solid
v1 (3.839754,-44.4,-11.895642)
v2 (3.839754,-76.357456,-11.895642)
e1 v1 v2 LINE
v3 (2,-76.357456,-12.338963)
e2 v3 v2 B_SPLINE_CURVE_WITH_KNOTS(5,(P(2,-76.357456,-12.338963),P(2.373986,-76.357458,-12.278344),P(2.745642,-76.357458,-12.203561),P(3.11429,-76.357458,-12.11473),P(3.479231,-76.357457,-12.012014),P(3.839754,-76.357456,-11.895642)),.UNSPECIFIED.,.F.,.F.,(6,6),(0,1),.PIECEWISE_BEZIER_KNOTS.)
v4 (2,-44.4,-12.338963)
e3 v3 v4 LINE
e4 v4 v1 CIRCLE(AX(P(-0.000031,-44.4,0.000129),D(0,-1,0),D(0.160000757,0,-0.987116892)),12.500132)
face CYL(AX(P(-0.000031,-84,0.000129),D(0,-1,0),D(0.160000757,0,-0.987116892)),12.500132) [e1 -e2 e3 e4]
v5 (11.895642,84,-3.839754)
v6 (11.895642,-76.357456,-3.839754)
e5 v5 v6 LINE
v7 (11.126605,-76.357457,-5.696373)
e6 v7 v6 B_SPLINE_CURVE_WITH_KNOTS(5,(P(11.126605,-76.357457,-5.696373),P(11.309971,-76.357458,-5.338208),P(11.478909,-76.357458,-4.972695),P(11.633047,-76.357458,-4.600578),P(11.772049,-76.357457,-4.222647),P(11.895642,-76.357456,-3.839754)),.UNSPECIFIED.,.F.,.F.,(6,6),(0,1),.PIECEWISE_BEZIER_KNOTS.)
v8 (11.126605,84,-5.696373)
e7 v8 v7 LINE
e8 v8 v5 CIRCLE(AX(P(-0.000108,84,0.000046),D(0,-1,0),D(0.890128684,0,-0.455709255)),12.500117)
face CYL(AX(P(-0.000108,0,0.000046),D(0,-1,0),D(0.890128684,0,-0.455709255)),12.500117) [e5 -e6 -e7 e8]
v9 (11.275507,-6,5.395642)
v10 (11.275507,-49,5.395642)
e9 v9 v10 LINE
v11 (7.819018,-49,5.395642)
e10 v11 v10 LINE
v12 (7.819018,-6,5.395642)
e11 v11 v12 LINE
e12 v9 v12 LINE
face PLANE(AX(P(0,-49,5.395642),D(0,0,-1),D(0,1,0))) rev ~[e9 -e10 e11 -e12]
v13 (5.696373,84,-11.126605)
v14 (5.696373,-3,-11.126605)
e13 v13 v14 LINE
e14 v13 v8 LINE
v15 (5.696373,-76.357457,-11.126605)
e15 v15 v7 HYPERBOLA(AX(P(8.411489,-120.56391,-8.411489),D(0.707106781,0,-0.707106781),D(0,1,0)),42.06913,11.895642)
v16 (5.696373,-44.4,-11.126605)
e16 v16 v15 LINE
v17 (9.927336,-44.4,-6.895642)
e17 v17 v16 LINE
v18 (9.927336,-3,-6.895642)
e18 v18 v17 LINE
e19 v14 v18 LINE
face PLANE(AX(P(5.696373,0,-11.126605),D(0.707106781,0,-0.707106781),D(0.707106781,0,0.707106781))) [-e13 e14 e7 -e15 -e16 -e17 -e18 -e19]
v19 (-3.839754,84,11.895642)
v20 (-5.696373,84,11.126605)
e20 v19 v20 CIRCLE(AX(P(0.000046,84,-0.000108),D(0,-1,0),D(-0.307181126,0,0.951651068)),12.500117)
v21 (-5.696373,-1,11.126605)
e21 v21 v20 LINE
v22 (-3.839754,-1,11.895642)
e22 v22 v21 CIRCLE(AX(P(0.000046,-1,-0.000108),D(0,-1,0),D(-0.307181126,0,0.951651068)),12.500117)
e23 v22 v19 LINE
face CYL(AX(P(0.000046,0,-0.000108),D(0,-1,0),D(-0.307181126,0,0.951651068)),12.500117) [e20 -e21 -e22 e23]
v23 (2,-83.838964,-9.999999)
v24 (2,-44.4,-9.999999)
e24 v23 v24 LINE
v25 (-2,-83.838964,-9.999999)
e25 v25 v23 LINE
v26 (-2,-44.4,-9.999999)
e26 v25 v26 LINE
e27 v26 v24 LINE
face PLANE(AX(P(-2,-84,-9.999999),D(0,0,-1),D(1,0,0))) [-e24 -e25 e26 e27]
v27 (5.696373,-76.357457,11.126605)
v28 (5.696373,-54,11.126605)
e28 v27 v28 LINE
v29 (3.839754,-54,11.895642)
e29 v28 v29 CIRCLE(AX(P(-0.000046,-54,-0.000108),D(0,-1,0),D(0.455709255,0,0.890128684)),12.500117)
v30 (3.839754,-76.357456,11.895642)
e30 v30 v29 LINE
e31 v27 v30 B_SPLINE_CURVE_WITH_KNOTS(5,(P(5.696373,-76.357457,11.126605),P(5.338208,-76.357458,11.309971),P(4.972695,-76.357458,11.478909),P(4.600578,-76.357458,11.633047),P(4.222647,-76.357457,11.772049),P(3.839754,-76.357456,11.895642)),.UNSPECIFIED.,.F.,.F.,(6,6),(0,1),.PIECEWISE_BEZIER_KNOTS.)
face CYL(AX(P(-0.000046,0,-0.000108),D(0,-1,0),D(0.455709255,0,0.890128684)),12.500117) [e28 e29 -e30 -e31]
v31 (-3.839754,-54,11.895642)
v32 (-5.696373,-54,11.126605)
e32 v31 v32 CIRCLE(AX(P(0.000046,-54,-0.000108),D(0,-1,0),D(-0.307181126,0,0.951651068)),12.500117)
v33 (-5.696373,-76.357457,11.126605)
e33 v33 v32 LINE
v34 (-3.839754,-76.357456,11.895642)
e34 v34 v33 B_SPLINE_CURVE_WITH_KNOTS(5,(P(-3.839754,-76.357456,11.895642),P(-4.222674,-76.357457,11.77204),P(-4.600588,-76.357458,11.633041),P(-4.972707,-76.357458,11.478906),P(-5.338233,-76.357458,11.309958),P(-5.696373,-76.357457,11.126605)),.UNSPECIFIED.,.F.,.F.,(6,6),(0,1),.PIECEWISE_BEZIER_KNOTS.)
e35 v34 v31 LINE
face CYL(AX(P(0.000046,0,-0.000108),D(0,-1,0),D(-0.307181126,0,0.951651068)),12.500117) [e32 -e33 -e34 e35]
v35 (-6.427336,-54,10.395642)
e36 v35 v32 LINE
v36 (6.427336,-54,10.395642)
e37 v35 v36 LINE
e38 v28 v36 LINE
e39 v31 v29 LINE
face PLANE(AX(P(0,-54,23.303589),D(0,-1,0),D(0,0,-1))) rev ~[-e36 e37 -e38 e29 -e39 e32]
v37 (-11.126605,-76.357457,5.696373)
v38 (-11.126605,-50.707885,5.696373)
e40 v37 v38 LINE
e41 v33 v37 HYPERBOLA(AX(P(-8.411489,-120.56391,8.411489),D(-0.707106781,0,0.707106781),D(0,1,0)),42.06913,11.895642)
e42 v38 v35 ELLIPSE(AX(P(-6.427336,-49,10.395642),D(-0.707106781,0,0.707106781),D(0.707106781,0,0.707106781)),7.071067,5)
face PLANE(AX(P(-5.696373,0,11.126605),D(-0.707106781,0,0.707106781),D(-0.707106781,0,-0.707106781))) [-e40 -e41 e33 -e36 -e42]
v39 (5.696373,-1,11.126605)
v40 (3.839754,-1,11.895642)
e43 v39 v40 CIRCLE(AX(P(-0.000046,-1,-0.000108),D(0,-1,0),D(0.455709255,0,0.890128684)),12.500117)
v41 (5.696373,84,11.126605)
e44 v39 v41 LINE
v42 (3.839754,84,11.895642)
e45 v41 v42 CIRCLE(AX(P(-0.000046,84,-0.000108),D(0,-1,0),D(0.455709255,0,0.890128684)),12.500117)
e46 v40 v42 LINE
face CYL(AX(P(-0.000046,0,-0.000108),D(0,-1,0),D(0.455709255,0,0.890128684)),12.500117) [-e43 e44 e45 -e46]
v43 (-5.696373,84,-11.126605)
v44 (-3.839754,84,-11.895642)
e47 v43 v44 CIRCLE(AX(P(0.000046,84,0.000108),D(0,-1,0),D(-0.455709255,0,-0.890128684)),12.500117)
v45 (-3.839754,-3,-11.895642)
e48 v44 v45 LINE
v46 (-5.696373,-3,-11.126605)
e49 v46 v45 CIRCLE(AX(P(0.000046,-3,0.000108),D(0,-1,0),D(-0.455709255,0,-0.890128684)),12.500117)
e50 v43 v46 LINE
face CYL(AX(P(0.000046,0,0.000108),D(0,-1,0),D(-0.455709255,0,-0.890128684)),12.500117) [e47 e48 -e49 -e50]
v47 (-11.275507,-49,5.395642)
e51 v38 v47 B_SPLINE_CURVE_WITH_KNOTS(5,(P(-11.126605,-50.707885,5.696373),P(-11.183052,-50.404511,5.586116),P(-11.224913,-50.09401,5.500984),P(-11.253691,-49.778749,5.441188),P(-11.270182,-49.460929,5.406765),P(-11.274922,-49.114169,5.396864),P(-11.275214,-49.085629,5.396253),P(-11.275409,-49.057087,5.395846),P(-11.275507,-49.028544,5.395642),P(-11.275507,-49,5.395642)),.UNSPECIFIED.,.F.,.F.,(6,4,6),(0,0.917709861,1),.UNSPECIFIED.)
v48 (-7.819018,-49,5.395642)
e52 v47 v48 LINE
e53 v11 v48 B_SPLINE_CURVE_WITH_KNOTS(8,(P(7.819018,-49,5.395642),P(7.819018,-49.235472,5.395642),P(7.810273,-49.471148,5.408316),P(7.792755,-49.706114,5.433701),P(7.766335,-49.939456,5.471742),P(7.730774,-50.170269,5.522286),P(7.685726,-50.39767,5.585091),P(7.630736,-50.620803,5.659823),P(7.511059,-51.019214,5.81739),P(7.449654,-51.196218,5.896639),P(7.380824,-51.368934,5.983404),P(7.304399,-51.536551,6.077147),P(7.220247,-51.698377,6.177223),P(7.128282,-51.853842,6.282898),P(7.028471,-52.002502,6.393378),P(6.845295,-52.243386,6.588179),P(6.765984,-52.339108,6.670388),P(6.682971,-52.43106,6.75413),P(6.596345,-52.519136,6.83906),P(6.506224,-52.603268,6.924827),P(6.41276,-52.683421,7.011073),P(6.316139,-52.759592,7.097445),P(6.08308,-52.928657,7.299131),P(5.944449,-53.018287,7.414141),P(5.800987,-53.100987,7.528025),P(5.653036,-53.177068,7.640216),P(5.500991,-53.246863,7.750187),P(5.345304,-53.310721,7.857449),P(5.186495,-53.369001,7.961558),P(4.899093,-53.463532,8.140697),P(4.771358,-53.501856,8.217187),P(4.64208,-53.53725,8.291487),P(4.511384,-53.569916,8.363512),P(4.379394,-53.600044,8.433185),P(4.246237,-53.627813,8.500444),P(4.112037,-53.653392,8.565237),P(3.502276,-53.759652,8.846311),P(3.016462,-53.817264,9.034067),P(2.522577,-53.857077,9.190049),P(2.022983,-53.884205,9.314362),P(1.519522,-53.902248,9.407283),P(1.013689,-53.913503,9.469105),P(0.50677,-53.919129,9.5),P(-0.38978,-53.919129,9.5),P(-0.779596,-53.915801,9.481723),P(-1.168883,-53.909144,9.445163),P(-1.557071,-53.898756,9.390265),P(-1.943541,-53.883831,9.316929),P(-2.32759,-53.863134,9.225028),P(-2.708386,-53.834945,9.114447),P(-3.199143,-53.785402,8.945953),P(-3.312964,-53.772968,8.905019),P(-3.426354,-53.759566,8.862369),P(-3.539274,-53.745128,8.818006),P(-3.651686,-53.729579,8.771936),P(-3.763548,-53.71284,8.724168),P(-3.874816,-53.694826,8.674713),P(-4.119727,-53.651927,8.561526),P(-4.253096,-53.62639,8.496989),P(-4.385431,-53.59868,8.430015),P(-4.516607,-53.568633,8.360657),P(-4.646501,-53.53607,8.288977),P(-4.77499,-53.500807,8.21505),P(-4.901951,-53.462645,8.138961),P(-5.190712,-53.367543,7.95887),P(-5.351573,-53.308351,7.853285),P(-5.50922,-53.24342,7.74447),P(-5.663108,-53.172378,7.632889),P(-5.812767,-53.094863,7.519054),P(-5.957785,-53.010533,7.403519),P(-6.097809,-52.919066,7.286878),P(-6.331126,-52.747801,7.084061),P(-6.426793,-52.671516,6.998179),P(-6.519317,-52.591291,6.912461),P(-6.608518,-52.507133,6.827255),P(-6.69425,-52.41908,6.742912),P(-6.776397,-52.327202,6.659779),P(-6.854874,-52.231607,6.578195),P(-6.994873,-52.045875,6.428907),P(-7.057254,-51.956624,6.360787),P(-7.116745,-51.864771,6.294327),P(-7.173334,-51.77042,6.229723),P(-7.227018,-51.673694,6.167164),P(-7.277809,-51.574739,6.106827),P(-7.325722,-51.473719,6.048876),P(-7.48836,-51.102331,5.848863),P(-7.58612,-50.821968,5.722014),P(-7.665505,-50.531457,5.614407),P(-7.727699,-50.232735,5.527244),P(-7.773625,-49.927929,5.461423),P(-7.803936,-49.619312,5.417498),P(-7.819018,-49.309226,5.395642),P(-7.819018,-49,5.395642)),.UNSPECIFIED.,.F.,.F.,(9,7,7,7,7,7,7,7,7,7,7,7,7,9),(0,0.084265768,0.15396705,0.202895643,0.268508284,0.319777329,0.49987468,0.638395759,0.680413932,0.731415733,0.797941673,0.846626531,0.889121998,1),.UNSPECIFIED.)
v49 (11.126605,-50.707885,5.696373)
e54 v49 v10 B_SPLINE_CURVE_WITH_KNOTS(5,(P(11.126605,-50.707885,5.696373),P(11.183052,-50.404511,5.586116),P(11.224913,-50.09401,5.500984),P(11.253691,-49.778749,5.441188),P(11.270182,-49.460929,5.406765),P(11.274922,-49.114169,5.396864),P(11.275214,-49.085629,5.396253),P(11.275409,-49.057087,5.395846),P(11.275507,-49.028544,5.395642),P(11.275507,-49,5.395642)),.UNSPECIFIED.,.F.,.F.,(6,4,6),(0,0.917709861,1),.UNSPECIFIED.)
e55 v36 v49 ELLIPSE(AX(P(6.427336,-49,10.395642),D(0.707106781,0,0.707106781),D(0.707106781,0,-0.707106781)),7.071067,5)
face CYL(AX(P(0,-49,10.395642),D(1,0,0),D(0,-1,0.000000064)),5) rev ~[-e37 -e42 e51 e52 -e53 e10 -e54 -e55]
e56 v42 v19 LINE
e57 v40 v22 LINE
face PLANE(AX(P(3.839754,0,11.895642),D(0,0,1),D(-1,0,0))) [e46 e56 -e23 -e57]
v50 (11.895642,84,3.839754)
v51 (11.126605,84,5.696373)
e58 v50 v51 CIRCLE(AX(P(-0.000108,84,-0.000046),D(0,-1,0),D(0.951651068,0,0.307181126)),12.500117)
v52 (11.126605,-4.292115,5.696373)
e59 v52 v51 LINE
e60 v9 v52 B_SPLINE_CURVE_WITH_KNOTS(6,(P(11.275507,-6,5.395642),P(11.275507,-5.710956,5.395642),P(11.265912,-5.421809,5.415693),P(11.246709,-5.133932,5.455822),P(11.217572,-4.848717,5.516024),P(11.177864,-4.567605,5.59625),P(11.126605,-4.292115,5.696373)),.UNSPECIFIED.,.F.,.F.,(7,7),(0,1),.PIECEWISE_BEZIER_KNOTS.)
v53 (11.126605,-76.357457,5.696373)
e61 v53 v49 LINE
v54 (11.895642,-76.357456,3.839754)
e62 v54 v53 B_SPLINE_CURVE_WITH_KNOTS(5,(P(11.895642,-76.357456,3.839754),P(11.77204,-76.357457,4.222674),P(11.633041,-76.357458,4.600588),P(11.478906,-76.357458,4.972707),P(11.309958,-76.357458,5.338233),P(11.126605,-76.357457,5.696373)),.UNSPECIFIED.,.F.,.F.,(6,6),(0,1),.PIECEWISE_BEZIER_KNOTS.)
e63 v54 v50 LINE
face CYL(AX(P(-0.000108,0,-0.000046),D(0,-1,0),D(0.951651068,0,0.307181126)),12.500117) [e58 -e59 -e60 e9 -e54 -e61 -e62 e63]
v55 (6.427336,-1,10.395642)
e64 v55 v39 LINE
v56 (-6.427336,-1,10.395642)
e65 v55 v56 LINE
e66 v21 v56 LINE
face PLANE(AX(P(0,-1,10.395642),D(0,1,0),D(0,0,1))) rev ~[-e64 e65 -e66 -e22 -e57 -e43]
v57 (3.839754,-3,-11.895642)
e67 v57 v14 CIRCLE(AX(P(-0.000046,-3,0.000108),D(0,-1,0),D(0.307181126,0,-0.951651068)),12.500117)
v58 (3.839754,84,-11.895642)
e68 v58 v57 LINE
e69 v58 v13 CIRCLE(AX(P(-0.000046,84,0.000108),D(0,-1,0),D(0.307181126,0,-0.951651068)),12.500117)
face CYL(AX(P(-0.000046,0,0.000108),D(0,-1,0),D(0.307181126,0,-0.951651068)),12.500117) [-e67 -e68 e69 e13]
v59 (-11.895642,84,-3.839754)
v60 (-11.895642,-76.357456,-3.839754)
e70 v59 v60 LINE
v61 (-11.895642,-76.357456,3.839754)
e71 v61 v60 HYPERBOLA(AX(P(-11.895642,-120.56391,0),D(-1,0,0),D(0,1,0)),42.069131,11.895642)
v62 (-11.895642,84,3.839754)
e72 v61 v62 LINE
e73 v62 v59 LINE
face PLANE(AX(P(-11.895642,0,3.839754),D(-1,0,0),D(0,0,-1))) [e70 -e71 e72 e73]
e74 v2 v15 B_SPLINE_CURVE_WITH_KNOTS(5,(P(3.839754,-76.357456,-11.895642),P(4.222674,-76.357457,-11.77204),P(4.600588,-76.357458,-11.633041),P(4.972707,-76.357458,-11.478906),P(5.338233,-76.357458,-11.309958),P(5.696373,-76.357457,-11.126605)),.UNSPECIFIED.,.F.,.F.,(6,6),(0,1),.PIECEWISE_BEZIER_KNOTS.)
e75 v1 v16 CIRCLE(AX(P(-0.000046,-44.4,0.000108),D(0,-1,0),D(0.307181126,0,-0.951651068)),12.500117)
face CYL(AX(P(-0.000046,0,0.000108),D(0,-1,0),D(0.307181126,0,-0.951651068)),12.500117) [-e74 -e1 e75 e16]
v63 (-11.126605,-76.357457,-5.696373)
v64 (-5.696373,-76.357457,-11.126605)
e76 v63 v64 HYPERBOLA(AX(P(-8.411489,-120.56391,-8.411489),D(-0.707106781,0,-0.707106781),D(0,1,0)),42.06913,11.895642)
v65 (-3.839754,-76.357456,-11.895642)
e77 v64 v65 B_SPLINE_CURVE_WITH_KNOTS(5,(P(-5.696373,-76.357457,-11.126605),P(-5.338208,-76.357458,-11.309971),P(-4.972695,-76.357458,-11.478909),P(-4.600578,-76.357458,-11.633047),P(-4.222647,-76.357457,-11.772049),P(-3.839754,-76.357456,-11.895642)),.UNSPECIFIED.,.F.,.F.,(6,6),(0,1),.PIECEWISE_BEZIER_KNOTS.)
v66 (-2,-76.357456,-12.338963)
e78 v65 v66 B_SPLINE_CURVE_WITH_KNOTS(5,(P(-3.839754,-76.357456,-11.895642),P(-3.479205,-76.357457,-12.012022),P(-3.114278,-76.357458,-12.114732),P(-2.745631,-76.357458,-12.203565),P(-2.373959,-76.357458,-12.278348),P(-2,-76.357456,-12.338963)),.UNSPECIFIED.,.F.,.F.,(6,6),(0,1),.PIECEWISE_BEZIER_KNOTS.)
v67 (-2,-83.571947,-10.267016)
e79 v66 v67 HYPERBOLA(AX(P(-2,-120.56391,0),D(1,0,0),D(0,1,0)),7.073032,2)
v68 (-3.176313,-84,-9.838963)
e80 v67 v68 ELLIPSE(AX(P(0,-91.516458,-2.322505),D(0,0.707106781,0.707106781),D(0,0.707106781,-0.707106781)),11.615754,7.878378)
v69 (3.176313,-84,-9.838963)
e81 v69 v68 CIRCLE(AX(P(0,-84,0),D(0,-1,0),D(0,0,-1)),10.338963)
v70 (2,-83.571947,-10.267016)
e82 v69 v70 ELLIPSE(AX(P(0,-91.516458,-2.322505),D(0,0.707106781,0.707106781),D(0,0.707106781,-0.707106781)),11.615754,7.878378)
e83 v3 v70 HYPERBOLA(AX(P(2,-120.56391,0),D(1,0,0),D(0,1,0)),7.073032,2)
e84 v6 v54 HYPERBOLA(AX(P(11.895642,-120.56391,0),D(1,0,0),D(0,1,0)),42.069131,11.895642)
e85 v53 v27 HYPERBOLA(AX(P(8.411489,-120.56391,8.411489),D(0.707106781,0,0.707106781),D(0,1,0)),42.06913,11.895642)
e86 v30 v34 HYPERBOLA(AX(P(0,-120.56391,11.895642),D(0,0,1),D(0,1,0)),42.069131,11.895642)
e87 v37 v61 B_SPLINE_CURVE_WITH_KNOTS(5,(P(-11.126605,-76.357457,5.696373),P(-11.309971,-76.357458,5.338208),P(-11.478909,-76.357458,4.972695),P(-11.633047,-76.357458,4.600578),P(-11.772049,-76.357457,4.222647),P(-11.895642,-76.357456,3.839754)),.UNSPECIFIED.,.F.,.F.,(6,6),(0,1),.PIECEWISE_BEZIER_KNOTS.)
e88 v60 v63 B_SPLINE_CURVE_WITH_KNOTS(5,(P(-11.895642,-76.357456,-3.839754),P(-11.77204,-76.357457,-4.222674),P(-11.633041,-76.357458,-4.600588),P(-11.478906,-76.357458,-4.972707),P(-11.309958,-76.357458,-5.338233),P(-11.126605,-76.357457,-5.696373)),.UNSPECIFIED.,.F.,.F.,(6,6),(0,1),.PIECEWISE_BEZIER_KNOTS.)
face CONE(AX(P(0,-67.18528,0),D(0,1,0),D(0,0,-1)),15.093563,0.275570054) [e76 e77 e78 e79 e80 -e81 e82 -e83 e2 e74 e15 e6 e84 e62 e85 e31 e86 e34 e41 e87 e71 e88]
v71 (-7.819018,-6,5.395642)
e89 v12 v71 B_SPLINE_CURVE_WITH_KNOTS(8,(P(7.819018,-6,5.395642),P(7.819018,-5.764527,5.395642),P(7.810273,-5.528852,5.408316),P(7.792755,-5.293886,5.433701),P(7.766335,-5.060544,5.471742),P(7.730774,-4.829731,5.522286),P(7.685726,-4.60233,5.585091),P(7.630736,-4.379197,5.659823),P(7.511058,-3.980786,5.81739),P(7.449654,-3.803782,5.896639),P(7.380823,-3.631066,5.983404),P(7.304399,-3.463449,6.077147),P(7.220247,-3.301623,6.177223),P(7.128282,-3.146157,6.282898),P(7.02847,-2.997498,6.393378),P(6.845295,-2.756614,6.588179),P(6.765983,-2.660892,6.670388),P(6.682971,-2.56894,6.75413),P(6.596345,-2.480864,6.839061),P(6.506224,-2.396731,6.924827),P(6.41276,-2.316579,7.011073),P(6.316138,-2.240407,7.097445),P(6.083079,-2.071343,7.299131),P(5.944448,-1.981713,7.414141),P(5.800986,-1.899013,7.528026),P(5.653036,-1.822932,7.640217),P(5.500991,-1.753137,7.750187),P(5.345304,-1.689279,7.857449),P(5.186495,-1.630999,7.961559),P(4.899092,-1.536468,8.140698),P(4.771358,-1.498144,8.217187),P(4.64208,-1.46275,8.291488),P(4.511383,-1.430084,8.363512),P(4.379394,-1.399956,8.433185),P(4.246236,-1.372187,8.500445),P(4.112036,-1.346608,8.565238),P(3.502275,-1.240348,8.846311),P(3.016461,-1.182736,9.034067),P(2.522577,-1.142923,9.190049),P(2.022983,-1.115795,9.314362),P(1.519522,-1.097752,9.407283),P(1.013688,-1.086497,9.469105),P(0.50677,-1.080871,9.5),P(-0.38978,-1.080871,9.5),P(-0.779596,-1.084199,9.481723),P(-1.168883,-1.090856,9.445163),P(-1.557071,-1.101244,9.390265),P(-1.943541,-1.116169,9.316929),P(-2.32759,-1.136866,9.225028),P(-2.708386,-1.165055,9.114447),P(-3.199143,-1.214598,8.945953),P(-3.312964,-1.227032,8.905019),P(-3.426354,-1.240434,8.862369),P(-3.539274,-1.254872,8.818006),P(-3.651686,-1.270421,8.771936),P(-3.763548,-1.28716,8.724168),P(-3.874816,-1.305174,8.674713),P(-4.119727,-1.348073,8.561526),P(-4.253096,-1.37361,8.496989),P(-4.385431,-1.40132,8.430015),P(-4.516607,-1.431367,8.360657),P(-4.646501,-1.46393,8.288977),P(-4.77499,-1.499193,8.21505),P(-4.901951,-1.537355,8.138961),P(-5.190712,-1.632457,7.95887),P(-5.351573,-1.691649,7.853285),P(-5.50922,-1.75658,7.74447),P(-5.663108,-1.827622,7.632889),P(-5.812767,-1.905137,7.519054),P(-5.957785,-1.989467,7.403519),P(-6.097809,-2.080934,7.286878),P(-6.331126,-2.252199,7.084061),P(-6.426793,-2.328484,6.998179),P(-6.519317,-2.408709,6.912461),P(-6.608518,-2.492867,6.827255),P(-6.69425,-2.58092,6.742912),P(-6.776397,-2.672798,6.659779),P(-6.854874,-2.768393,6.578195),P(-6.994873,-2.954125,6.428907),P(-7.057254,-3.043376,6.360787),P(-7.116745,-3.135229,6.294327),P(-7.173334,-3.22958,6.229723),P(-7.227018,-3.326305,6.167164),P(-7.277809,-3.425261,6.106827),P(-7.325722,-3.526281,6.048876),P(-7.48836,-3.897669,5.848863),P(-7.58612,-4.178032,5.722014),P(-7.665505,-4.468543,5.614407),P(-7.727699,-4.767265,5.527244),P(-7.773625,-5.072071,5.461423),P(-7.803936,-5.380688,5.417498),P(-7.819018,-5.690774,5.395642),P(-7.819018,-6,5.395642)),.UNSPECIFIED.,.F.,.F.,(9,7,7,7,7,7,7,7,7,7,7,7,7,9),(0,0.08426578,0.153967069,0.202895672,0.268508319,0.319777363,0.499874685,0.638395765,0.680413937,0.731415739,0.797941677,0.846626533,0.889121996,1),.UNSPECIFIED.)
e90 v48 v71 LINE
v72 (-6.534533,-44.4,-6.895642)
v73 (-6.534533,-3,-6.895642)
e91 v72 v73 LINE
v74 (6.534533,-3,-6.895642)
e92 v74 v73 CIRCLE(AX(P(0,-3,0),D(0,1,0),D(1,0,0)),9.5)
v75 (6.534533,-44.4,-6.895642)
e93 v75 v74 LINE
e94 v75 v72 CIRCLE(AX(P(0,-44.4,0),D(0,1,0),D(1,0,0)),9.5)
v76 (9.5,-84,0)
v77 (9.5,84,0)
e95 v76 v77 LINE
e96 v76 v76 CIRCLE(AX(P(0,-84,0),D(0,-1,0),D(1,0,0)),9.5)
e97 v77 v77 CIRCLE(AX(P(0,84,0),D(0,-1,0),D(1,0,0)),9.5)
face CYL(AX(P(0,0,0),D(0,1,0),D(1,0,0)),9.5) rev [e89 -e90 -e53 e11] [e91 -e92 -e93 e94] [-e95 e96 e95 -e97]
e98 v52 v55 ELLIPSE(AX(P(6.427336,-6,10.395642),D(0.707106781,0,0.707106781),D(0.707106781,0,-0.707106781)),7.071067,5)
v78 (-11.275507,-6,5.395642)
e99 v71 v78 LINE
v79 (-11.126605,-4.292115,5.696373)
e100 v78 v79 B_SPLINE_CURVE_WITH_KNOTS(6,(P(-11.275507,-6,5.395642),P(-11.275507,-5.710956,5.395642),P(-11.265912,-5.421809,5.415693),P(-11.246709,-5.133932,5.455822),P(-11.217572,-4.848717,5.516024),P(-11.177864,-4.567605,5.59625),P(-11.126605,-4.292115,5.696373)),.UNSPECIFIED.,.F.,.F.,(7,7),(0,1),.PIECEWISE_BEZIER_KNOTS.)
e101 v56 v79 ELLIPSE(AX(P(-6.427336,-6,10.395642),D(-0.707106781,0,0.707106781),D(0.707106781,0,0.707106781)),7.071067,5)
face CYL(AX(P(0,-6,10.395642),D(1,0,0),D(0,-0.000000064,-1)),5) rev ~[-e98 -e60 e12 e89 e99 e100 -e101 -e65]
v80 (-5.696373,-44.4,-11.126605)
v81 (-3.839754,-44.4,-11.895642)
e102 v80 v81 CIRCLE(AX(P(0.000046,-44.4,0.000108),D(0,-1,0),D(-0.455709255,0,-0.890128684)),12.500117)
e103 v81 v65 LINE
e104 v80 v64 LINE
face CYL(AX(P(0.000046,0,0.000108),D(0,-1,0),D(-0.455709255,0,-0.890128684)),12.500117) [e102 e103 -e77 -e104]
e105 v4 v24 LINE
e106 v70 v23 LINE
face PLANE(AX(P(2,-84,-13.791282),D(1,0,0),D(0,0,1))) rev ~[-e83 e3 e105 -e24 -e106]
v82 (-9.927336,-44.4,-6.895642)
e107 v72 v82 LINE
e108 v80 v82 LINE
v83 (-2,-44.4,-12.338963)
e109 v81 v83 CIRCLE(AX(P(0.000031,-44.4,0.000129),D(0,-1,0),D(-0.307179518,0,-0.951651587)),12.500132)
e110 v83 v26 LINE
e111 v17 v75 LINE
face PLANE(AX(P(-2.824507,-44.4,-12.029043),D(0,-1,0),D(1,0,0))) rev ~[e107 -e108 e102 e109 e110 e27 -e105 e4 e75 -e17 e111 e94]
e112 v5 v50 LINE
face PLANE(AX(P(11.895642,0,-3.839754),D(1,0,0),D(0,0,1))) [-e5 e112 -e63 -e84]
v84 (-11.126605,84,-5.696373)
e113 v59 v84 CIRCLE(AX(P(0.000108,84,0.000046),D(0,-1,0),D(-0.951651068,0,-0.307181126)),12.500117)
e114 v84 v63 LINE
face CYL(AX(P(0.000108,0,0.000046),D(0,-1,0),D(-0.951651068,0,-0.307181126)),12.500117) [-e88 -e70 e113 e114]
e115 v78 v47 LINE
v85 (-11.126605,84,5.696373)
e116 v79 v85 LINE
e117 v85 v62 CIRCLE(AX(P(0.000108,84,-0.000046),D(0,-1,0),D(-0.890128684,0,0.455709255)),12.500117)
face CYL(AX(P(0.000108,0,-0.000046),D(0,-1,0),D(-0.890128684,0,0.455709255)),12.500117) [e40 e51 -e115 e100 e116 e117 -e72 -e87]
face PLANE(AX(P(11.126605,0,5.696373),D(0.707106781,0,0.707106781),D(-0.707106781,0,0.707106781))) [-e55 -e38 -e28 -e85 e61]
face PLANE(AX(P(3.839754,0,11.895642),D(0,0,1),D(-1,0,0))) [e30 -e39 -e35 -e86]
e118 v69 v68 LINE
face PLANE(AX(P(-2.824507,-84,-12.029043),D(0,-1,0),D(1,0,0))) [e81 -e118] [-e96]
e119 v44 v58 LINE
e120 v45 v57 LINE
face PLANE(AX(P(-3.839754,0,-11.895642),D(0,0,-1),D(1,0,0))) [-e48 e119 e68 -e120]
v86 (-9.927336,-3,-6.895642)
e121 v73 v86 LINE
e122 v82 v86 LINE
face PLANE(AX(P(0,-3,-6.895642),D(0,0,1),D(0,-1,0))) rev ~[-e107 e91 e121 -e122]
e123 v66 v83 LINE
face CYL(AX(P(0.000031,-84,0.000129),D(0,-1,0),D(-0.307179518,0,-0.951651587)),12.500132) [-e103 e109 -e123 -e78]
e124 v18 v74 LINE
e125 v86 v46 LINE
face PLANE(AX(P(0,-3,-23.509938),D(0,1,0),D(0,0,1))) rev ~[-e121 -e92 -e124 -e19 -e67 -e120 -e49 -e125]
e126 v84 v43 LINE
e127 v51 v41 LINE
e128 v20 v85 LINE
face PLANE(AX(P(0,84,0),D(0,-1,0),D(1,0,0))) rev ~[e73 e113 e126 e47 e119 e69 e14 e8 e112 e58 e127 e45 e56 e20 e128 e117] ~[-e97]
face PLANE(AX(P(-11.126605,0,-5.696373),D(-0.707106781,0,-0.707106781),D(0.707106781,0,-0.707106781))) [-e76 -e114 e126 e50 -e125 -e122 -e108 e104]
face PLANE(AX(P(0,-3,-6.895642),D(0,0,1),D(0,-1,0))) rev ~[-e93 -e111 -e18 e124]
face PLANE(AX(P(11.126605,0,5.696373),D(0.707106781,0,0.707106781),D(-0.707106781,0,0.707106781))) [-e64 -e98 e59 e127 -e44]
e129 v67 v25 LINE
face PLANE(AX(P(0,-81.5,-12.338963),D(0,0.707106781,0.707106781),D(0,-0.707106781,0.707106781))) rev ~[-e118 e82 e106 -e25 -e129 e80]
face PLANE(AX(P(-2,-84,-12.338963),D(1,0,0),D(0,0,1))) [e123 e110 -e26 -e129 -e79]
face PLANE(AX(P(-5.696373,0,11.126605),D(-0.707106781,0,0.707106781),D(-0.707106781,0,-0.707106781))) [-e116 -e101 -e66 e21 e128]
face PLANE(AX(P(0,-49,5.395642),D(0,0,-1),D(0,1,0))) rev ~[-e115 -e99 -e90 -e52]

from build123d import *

# Parameters (mm, degrees)
F0_R      = 9.5
F1_DEPTH  = 84
F3_DEPTH  = 12.5
F5_DEPTH  = 12.5
F7_W      = 4
F7_H      = 3.791283
F8_DEPTH  = 50.14
F10_DEPTH = 39.6
F12_DEPTH = 12.5


with BuildPart() as f1:
    # F0 (on Front) → F1 (new body, symmetric)
    with BuildSketch(Plane.XZ):
        with BuildLine():
            Line((-11.895642, 3.839754), (-11.895642, -3.839754))
            ThreePointArc((-11.895642, -3.839754), (-11.548494, -4.783543), (-11.126605, -5.696373))
            Line((-11.126605, -5.696373), (-5.696373, -11.126605))
            ThreePointArc((-5.696373, -11.126605), (-4.783543, -11.548494), (-3.839754, -11.895642))
            Line((-3.839754, -11.895642), (3.839754, -11.895642))
            ThreePointArc((3.839754, -11.895642), (4.783543, -11.548494), (5.696373, -11.126605))
            Line((5.696373, -11.126605), (11.126605, -5.696373))
            ThreePointArc((11.126605, -5.696373), (11.548494, -4.783543), (11.895642, -3.839754))
            Line((11.895642, -3.839754), (11.895642, 3.839754))
            ThreePointArc((11.895642, 3.839754), (11.548494, 4.783543), (11.126605, 5.696373))
            Line((11.126605, 5.696373), (5.696373, 11.126605))
            ThreePointArc((5.696373, 11.126605), (4.783543, 11.548494), (3.839754, 11.895642))
            Line((3.839754, 11.895642), (-3.839754, 11.895642))
            ThreePointArc((-3.839754, 11.895642), (-4.783543, 11.548494), (-5.696373, 11.126605))
            Line((-5.696373, 11.126605), (-11.126605, 5.696373))
            ThreePointArc((-11.126605, 5.696373), (-11.548494, 4.783543), (-11.895642, 3.839754))
        make_face()
        Circle(F0_R, mode=Mode.SUBTRACT)
    extrude(amount=F1_DEPTH, both=True)

    # F2 (on Right) → F3 (cut, symmetric)
    with BuildSketch(Plane.YZ):
        with BuildLine():
            Line((-1, 23.303589), (-54, 23.303589))
            Line((-54, 23.303589), (-54, 10.395642))
            ThreePointArc((-54, 10.395642), (-52.535534, 6.860108), (-49, 5.395642))
            Line((-49, 5.395642), (-6, 5.395642))
            ThreePointArc((-6, 5.395642), (-2.464466, 6.860108), (-1, 10.395642))
            Line((-1, 10.395642), (-1, 23.303589))
        make_face()
    extrude(amount=F3_DEPTH, both=True, mode=Mode.SUBTRACT)

    # F4 (on Right) → F5 (cut, symmetric)
    with BuildSketch(Plane.YZ):
        Polygon((-44.4, -6.895642), (-44.4, -11.895642), (-44.4, -23.509938), (-3, -23.509938), (-3, -6.895642), align=None)
    extrude(amount=F5_DEPTH, both=True, mode=Mode.SUBTRACT)

    # F7 (on offset) → F8 (cut)
    with BuildSketch(Plane.XZ.offset(84)):
        with Locations((0, -11.895641)):
            Rectangle(F7_W, F7_H)
    extrude(amount=-F8_DEPTH, mode=Mode.SUBTRACT)

    # F9 (on offset) → F10 (join, through all)
    with BuildSketch(Plane.XZ.offset(84)):
        with BuildLine():
            Line((-2, -11.895642), (-3.839754, -11.895642))
            ThreePointArc((-3.839754, -11.895642), (-2.928278, -12.152168), (-2, -12.338963))
            Line((-2, -12.338963), (-2, -11.895642))
        make_face()
        with BuildLine():
            Line((3.839754, -11.895642), (2, -11.895642))
            Line((2, -11.895642), (2, -12.338963))
            ThreePointArc((2, -12.338963), (2.928278, -12.152168), (3.839754, -11.895642))
        make_face()
    extrude(amount=-F10_DEPTH)

    # F11 (on Right) → F12 (cut, symmetric)
    with BuildSketch(Plane.YZ):
        Polygon((-84, -9.838963), (-84, -12.338963), (-81.5, -12.338963), align=None)
    extrude(amount=F12_DEPTH, both=True, mode=Mode.SUBTRACT)

    # F13 (on Right) → F14 (revolve, cut)
    with BuildSketch(Plane.YZ):
        Polygon((-86.791411, -19.086694), (-67.18528, -15.093563), (-84, -10.338963), align=None)
    revolve(axis=Axis((0, -51.056053, 0), (0, -1, 0)), mode=Mode.SUBTRACT)


solid = f1.part
